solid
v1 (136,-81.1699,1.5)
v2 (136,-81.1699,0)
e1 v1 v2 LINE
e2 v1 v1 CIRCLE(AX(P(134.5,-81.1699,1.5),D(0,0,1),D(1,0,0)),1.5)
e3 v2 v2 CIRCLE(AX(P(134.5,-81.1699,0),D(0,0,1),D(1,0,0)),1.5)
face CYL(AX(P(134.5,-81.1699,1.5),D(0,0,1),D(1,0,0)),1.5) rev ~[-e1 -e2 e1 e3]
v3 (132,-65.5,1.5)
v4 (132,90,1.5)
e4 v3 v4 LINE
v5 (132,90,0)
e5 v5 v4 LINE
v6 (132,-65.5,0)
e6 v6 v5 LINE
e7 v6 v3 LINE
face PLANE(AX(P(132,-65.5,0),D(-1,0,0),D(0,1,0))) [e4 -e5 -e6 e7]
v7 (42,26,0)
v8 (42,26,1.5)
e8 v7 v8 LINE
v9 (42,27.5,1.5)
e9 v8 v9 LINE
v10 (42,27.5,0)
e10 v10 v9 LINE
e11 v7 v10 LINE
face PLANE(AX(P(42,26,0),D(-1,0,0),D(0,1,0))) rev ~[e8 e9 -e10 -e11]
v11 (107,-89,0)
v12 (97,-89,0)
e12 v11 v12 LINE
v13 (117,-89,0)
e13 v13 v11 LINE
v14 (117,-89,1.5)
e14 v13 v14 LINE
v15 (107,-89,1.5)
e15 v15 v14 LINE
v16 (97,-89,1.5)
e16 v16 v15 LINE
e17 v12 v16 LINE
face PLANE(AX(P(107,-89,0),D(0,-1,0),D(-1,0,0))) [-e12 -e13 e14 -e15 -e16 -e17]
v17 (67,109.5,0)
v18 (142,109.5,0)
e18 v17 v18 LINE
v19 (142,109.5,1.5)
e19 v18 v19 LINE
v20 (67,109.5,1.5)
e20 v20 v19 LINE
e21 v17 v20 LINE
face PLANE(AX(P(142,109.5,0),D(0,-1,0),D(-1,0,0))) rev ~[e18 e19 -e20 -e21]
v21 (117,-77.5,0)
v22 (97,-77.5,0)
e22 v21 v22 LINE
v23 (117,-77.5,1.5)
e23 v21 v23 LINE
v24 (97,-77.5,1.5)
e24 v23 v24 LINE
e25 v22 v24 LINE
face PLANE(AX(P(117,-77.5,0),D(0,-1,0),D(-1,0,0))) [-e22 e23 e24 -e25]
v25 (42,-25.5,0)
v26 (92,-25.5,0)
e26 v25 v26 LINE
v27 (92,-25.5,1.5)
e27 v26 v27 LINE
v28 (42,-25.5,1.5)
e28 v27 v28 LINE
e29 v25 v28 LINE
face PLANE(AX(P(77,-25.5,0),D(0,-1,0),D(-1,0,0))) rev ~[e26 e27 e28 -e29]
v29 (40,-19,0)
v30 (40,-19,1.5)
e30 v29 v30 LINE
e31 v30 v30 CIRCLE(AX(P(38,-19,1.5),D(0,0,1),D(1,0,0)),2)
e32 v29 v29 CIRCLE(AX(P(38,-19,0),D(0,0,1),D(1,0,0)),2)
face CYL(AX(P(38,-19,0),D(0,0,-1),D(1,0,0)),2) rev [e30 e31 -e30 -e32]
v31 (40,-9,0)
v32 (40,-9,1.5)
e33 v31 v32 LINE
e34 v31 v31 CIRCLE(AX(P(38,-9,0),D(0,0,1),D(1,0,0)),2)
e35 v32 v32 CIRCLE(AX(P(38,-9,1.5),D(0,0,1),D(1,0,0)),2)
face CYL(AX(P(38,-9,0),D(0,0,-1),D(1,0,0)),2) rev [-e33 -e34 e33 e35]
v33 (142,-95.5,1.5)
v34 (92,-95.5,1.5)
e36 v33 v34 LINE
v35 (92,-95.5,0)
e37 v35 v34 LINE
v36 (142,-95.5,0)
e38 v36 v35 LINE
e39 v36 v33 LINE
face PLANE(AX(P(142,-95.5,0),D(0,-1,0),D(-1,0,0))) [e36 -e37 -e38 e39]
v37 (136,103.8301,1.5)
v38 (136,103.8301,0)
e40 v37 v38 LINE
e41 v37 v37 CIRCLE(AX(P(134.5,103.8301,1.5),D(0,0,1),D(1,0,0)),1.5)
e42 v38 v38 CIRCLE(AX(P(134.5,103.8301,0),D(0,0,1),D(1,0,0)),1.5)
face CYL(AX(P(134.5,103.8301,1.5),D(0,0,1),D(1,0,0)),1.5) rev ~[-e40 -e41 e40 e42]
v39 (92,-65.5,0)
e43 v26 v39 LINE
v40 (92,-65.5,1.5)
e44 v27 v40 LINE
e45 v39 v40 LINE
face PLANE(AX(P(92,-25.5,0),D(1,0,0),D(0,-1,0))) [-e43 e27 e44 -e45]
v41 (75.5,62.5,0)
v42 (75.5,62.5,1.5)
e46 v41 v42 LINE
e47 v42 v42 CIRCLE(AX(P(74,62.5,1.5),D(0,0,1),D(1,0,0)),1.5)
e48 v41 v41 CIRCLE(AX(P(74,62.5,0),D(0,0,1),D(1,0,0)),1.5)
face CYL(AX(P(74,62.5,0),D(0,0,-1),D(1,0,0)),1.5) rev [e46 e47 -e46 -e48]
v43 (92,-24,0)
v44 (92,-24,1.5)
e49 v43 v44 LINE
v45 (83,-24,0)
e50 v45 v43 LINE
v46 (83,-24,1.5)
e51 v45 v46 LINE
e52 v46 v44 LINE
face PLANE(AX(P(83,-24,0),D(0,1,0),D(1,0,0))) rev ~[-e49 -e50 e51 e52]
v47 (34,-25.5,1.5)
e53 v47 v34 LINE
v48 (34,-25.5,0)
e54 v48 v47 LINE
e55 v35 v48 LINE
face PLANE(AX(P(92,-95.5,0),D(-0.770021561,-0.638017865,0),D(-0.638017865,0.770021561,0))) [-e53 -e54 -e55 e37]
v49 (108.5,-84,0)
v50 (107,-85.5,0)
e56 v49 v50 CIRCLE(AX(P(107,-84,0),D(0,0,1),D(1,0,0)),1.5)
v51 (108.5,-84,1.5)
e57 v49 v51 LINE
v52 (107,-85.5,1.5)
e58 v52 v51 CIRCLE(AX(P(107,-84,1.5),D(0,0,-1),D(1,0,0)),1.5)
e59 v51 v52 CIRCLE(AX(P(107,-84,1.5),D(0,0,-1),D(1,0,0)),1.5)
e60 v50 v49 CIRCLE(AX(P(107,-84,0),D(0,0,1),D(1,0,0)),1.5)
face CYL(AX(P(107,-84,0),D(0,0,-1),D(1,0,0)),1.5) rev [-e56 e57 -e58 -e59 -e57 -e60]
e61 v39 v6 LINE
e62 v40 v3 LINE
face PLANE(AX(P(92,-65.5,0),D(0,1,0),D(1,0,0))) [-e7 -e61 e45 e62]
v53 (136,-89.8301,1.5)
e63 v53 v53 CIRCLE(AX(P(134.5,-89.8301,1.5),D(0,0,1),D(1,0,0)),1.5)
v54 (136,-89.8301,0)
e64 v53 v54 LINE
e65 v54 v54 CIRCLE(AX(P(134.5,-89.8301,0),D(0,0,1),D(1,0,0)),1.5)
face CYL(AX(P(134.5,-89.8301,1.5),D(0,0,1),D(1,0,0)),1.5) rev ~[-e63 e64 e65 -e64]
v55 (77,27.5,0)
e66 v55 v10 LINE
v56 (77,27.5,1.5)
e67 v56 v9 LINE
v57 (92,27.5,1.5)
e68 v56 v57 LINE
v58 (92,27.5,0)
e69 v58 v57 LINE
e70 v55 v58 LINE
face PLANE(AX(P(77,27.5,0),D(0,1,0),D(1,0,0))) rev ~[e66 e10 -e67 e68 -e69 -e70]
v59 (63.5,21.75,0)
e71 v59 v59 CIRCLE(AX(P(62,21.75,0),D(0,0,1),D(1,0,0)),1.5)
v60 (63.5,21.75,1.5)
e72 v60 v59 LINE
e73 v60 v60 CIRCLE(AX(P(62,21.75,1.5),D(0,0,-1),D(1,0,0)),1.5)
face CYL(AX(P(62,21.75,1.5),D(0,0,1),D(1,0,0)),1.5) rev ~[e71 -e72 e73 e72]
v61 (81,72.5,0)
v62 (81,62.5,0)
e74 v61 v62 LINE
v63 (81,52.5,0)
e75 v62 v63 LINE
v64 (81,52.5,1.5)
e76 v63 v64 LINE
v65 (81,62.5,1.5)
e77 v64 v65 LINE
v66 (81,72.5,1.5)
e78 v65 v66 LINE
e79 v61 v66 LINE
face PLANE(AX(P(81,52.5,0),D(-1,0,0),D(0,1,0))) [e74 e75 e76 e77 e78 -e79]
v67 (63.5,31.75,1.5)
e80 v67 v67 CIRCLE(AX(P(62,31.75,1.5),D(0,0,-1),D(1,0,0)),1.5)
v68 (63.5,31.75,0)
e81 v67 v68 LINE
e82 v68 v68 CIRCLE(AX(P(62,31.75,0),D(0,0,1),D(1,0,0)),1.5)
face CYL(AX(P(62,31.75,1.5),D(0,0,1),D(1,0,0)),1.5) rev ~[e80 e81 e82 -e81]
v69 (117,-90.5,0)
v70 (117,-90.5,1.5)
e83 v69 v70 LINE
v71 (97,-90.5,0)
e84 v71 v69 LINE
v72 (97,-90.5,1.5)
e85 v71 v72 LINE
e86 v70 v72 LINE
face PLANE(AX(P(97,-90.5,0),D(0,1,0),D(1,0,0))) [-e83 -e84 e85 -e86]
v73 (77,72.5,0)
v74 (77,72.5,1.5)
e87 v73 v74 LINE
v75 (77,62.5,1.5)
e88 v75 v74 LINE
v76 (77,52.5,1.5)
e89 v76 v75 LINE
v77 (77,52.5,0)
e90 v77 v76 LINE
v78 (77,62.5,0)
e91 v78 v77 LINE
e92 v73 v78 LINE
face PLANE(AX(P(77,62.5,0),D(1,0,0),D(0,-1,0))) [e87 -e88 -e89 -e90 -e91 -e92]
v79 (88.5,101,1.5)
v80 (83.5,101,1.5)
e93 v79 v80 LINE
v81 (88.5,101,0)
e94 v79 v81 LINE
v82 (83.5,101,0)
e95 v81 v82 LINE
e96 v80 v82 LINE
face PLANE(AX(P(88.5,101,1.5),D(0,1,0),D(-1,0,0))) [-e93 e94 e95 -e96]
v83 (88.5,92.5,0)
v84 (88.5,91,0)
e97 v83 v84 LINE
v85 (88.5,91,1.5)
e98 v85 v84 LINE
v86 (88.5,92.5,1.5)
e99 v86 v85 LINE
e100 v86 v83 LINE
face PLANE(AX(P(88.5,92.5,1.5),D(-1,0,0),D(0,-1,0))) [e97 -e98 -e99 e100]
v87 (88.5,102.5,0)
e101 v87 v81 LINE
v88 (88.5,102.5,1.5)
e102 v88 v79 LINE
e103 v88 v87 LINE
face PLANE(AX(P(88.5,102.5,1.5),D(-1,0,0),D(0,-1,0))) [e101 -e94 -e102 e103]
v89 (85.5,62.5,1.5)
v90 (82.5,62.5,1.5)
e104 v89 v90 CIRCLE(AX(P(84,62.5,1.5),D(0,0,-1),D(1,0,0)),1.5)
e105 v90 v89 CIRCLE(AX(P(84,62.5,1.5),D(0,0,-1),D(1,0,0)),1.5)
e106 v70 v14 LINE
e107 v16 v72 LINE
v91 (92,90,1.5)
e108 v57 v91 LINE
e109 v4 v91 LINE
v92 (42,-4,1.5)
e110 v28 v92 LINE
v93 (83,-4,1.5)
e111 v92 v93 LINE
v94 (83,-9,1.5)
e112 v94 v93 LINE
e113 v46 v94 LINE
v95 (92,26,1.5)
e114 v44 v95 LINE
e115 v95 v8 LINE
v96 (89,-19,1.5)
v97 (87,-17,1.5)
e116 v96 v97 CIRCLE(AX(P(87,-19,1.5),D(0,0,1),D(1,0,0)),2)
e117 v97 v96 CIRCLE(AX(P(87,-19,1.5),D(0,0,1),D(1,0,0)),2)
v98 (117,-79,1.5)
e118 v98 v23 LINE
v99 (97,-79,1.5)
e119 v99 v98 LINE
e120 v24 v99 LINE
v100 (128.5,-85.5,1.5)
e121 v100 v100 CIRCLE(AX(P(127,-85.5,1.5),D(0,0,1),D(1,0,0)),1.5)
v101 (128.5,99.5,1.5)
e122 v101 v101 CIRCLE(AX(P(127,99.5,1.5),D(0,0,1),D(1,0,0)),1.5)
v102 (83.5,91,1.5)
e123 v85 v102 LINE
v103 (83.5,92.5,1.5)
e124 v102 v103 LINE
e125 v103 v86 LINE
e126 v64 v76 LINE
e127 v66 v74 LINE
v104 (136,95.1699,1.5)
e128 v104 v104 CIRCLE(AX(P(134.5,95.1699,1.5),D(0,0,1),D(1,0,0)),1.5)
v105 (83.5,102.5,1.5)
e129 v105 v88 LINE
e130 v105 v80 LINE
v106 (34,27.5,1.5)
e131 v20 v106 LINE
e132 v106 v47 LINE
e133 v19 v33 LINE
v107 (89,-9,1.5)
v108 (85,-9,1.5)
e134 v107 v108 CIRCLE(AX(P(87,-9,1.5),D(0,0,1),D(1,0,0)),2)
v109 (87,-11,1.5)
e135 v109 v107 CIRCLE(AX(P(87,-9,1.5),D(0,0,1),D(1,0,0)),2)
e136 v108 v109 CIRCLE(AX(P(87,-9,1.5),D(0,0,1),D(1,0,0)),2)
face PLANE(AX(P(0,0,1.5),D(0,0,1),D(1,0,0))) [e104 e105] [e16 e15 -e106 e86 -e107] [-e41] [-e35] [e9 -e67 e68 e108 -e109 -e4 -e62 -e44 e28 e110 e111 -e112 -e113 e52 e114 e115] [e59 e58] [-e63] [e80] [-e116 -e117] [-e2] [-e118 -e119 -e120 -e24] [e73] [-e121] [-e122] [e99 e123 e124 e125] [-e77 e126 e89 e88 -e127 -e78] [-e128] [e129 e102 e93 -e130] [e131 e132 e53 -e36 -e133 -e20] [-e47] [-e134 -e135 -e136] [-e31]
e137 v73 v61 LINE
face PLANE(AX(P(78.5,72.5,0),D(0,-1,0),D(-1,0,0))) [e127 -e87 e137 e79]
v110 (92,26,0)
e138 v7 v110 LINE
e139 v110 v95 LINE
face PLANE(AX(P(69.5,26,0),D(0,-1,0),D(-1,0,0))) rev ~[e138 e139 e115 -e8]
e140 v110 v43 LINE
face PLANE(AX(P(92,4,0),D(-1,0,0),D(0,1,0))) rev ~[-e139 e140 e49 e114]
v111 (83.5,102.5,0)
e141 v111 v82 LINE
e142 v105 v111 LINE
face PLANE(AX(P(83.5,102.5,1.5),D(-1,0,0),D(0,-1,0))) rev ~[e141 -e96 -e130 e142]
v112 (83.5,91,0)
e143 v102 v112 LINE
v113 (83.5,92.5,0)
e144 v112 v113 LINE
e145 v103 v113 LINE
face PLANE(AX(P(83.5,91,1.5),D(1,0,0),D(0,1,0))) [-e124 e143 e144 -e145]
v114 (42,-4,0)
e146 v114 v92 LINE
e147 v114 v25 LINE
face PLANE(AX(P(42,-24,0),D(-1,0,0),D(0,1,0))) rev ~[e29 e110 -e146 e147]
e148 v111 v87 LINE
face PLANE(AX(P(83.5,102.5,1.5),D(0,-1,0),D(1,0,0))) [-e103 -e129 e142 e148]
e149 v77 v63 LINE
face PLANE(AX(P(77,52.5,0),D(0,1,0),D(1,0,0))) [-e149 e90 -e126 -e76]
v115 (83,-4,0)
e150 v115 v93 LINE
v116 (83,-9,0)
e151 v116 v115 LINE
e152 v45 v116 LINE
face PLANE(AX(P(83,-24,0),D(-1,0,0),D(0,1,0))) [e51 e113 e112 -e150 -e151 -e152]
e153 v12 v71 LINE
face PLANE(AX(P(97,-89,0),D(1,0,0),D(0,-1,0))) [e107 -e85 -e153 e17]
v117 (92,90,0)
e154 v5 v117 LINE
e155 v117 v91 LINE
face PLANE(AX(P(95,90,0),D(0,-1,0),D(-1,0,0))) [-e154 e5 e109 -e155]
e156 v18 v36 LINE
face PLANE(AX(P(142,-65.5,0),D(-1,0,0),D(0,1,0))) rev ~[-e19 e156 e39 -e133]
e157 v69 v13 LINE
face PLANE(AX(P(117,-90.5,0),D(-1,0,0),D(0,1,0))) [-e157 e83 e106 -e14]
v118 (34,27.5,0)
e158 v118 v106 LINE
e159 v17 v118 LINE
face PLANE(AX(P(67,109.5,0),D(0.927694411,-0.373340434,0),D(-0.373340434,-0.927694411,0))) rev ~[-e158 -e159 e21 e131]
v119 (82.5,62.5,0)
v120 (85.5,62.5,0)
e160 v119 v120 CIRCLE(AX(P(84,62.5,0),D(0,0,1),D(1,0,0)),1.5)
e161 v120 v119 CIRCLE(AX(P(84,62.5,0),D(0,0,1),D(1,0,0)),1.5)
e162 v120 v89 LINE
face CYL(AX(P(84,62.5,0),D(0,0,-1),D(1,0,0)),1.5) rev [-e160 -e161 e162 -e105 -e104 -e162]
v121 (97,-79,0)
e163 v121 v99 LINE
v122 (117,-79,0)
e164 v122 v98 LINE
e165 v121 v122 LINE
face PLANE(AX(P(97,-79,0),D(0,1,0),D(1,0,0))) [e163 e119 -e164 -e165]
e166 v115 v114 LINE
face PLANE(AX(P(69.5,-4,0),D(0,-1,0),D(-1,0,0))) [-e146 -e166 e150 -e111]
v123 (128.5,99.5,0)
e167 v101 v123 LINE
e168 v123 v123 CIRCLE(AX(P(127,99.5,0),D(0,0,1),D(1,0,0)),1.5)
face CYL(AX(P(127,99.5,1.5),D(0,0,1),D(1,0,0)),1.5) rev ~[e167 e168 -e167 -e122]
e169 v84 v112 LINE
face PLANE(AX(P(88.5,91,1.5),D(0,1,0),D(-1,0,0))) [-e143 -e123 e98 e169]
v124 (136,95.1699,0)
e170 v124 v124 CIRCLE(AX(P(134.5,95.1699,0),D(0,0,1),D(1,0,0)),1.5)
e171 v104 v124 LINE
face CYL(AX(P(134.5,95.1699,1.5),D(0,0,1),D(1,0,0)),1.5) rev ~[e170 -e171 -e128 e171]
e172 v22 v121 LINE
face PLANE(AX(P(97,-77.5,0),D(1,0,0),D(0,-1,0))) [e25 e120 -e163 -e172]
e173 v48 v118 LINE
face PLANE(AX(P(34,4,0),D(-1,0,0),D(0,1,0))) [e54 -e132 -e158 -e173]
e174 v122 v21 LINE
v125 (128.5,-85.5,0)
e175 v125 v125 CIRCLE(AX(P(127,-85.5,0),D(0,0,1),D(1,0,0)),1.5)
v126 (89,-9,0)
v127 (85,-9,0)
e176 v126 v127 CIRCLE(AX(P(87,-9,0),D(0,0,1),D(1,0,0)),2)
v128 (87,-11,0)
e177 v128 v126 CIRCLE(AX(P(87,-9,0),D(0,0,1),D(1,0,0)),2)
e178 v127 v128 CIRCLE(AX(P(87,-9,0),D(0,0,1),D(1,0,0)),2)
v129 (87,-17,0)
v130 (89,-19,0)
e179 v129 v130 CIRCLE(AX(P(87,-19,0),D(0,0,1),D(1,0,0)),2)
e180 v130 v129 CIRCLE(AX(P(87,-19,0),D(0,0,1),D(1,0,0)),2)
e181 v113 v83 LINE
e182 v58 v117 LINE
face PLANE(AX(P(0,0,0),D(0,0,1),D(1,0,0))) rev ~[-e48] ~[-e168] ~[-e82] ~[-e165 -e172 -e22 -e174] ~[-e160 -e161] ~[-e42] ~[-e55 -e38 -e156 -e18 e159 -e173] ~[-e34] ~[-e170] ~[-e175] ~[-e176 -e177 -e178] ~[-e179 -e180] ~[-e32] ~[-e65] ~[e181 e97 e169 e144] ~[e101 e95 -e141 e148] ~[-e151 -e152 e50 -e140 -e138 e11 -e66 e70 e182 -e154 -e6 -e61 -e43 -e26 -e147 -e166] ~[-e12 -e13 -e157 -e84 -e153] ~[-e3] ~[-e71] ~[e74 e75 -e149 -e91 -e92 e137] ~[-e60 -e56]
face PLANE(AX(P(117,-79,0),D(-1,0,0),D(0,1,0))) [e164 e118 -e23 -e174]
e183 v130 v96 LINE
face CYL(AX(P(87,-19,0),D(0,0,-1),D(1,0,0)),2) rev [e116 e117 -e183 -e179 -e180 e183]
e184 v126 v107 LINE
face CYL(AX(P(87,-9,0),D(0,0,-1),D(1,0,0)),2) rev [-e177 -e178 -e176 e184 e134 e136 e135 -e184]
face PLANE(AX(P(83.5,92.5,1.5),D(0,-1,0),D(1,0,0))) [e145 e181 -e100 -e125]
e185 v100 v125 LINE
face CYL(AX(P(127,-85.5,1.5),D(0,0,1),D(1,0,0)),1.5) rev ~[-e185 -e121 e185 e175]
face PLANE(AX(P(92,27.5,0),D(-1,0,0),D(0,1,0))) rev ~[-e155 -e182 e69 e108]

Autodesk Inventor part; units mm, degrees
ref_plane "YZ Plane" through (0, 0, 0) normal (1, 0, 0) x (0, 1, 0)
ref_plane "XZ Plane" through (0, 0, 0) normal (0, 1, 0) x (-1, 0, 0)
ref_plane "XY Plane" through (0, 0, 0) normal (0, 0, 1) x (1, 0, 0)
sketch "Sketch1" plane through (0, 0, 0) normal (0, 0, 1) x (1, 0, 0)
  line L0 (95, 60) -> (105, 60)
  line L1 (105, 60) -> (105, 10)
  line L2 (105, 10) -> (100, 10)
  line L3 (100, 10) -> (100, 20)
  line L4 (100, 20) -> (95, 20)
  line L5 (95, 20) -> (95, 60)
  line L6 (105, -60) -> (95, -60)
  line L7 (95, -60) -> (95, -20)
  line L8 (95, -20) -> (100, -20)
  line L9 (100, -20) -> (100, -10)
  line L10 (100, -10) -> (105, -10)
  line L11 (105, -10) -> (105, -60)
  line L12 (120.5, 3.5) -> (123.5, 3.5)
  line L13 (123.5, 3.5) -> (123.5, 5)
  line L14 (123.5, 5) -> (127, 5)
  line L15 (127, 5) -> (127, -5)
  line L16 (127, -5) -> (123.5, -5)
  line L17 (123.5, -5) -> (123.5, -3.5)
  line L18 (123.5, -3.5) -> (120.5, -3.5)
  line L19 (120.5, -3.5) -> (120.5, -5)
  line L20 (120.5, -5) -> (117, -5)
  line L21 (117, -5) -> (117, -49)
  line L22 (117, -49) -> (107, -51)
  line L23 (107, -51) -> (107, -10)
  line L24 (107, -10) -> (112, -10)
  line L25 (112, -10) -> (112, -3.5)
  line L26 (112, -3.5) -> (100, -3.5)
  line L27 (100, -3.5) -> (100, -4)
  line L28 (100, -4) -> (45, -4)
  arc A0 (43, -6) -> (45, -4) centre (43, -4) ccw
  line L29 (43, -6) -> (42, -6)
  arc A1 (40, -4) -> (42, -6) centre (42, -4) ccw
  line L30 (40, -4) -> (5, -4)
  arc A2 (3, -6) -> (5, -4) centre (3, -4) ccw
  line L31 (3, -6) -> (2, -6)
  arc A3 (0, -4) -> (2, -6) centre (2, -4) ccw
  line L32 (0, -4) -> (0, 4)
  arc A4 (2, 6) -> (0, 4) centre (2, 4) ccw
  line L33 (2, 6) -> (3, 6)
  arc A5 (5, 4) -> (3, 6) centre (3, 4) ccw
  line L34 (5, 4) -> (40, 4)
  arc A6 (42, 6) -> (40, 4) centre (42, 4) ccw
  line L35 (42, 6) -> (43, 6)
  arc A7 (45, 4) -> (43, 6) centre (43, 4) ccw
  line L36 (45, 4) -> (100, 4)
  line L37 (100, 4) -> (100, 3.5)
  line L38 (100, 3.5) -> (112, 3.5)
  line L39 (112, 3.5) -> (112, 10)
  line L40 (112, 10) -> (107, 10)
  line L41 (107, 10) -> (107, 51)
  line L42 (107, 51) -> (117, 49)
  line L43 (117, 49) -> (117, 5)
  line L44 (117, 5) -> (120.5, 5)
  line L45 (120.5, 5) -> (120.5, 3.5)
  line L46 (92, 27.5) -> (92, 26)
  line L47 (92, 26) -> (42, 26)
  line L48 (42, 26) -> (42, 27.5)
  line L49 (42, 27.5) -> (92, 27.5)
  line L50 (92, -24) -> (92, -25.5)
  line L51 (92, -25.5) -> (42, -25.5)
  line L52 (42, -25.5) -> (42, -24)
  line L53 (42, -24) -> (92, -24)
  line L54 (92, -25.5) -> (82, -25.5)
  line L55 (82, -25.5) -> (82, -24)
  line L56 (82, -24) -> (77, -24)
  line L57 (77, -24) -> (77, -25.5)
  line L58 (77, -25.5) -> (57, -25.5)
  line L59 (57, -25.5) -> (57, -24)
  line L60 (57, -24) -> (52, -24)
  line L61 (52, -24) -> (52, -25.5)
  line L62 (52, -25.5) -> (42, -25.5)
  line L63 (42, -25.5) -> (42, 27.5)
  line L64 (92, 27.5) -> (92, 97.5)
  line L65 (92, -25.5) -> (92, -65.5)
  line L66 (92, -65.5) -> (132, -65.5)
  line L67 (132, -65.5) -> (142, -65.5)
  line L68 (132, -65.5) -> (132, 97.5)
  line L69 (142, -65.5) -> (142, 109.5)
  line L70 (42, 27.5) -> (34, 27.5)
  line L71 (95, 60) -> (105, 60)
  line L72 (105, 60) -> (105, 84)
  line L73 (105, 84) -> (95, 84)
  line L74 (95, 84) -> (95, 60)
  line L75 (95, 60) -> (95, 90)
  line L76 (95, 90) -> (132, 90)
  line L77 (95, 90) -> (92, 90)
  line L78 (142, -65.5) -> (142, -95.5)
  line L79 (142, -95.5) -> (92, -95.5)
  line L80 (92, -95.5) -> (34, -25.5)
  line L81 (34, -25.5) -> (34, 27.5)
  line L82 (0, 0) -> (71, 0)
  line L83 (23.8389, -219.7015) -> (66.8389, -219.7015)
  line L84 (66.8389, -219.7015) -> (66.8389, -198.7015)
  line L85 (66.8389, -198.7015) -> (23.8389, -198.7015)
  line L86 (23.8389, -198.7015) -> (23.8389, -219.7015)
  line L87 (45.3389, -198.7015) -> (45.3389, -219.7015)
  line L88 (66.8389, -198.7015) -> (66.8389, -203.7015)
  line L89 (66.8389, -203.7015) -> (70.8389, -203.7015)
  line L90 (70.8389, -203.7015) -> (70.8389, -213.7015)
  circle A8 centre (70.8389, -213.7015) radius 2
  circle A9 centre (70.8389, -203.7015) radius 2
  line L91 (66.8389, -209.2015) -> (56.8389, -209.2015)
  line L92 (56.8389, -209.2015) -> (56.8389, -189.2015)
  line L93 (56.8389, -189.2015) -> (56.8389, -229.2015)
  circle A10 centre (19.8389, -213.7015) radius 2
  circle A11 centre (19.8389, -203.7015) radius 2
  line L94 (33.8389, -189.2015) -> (33.8389, -229.2015)
  line L95 (42, -24) -> (83, -24)
  line L96 (83, -24) -> (83, -4)
  line L97 (83, -4) -> (42, -4)
  line L98 (42, -4) -> (42, -24)
  line L99 (62.5, -4) -> (62.5, -24)
  line L100 (83, -4) -> (83, -9)
  line L101 (83, -9) -> (87, -9)
  line L102 (87, -9) -> (87, -19)
  circle A12 centre (87, -9) radius 2
  circle A13 centre (87, -19) radius 2
  circle A14 centre (38, -9) radius 2
  circle A15 centre (38, -19) radius 2
  line L103 (92, -24) -> (92, 26)
  line L104 (109.5, -120.7576) -> (69.5, -120.7576)
  line L105 (69.5, -120.7576) -> (69.5, 125.4146)
  line L106 (142, 109.5) -> (67, 109.5)
  line L107 (67, 109.5) -> (67, 109.5)
  line L108 (67, 109.5) -> (34, 27.5)
  line L109 (34, 27.5) -> (69.5, 27.5)
  line L110 (69.5, 27.5) -> (69.5, 52.5)
  line L111 (92, 27.5) -> (69.5, 27.5)
  line L112 (92, 27.5) -> (77, 27.5)
  line L113 (77, 27.5) -> (77, 52.5)
  line L114 (77, 52.5) -> (78.5, 52.5)
  line L115 (78.5, 72.5) -> (77, 72.5)
  line L116 (77, 72.5) -> (77, 52.5)
  line L117 (78.5, 52.5) -> (81, 52.5)
  line L118 (81, 52.5) -> (81, 72.5)
  line L119 (81, 72.5) -> (78.5, 72.5)
  line L120 (81, 62.5) -> (79, 62.5)
  line L121 (79, 62.5) -> (74, 62.5)
  line L122 (74, 62.5) -> (84, 62.5)
  circle A16 centre (74, 62.5) radius 1.5
  circle A17 centre (84, 62.5) radius 1.5
  line L123 (92, -95.5) -> (92, -90.5)
  line L124 (92, -90.5) -> (97, -90.5)
  line L125 (97, -90.5) -> (117, -90.5)
  line L126 (117, -90.5) -> (117, -89)
  line L127 (117, -89) -> (97, -89)
  line L128 (97, -89) -> (97, -90.5)
  line L129 (97, -89) -> (97, -79)
  line L130 (97, -79) -> (117, -79)
  line L131 (117, -79) -> (117, -77.5)
  line L132 (117, -77.5) -> (97, -77.5)
  line L133 (97, -77.5) -> (97, -79)
  line L134 (107, -90.5) -> (107, -84)
  circle A18 centre (107, -84) radius 1.5
  point P0 (59.5188, -93.2152)
  point P1 (83, -4)
  point P2 (83, -24)
  dimension "d0" = 10
  dimension "d1" = 1.5
  dimension "d2" = 5
  dimension "d3" = 1.5
  dimension "d4" = 20
  dimension "d5" = 1.5
  dimension "d6" = 5
  dimension "d7" = 1.5
  dimension "d8" = 70
  dimension "d9" = 40
  dimension "d10" = 40
  dimension "d11" = 40
  dimension "d12" = 10
  dimension "d13" = 175
  dimension "d14" = 8
  dimension "d15" = 10
  dimension "d16" = 24
  dimension "d17" = 30
  dimension "d19" = 30
  dimension "d20" = 50
  dimension "d21" = 71
  dimension "d22" = 43
  dimension "d23" = 21
  dimension "d24" = 5
  dimension "d25" = 4
  dimension "d26" = 10
  dimension "d27" = 4
  dimension "d28" = 4
  dimension "d29" = 10
  dimension "d30" = 20
  dimension "d31" = 40
  dimension "d32" = 41
  dimension "d33" = 20
  dimension "d34" = 5
  dimension "d35" = 4
  dimension "d36" = 10
  dimension "d37" = 4
  dimension "d38" = 4
  dimension "d48" = 40
  dimension "d49" = 3
  dimension "d50" = 75
  dimension "d51" = 0
  dimension "d62" = 15
  dimension "d63" = 25
  dimension "d64" = 1.5
  dimension "d65" = 20
  dimension "d73" = 2.5
  dimension "d74" = 2
  dimension "d75" = 5
  dimension "d76" = 10
  dimension "d77" = 3
  dimension "d78" = 3
  dimension "d81" = 5
  dimension "d82" = 5
  dimension "d83" = 20
  dimension "d84" = 1.5
  dimension "d85" = 10
  dimension "d86" = 20
  dimension "d87" = 1.5
  dimension "d88" = 3
extrude "Extrusion1" add sketch "Sketch1" along normal blind 1.5 contours A16 | A17 | L116 L121 L120 L118 L117 L114 | L77 L64 L49 L105 L106 L69 L67 L68 L76 | L133 L132 L131 L130 | A18 | L128 L127 L134 L125 | L67 L78 L79 L80 L105 L51 L65 L66 | L103 L36 L105 L47 | L105 L36 A7 L35 L63 L47 | L103 L28 L105 L36 | L49 L70 L108 L106 L105 | L53 L96 L28 L103 | L63 A6 L34 L81 L70 L48 | L105 L82 L63 L35 A7 L36 | L116 L115 L119 L118 L120 L121 | L80 L81 L30 A1 L63 L52 L51 L105 | L63 L82 L81 L34 A6 | L105 L28 L97 L63 L82 | L63 A1 L30 L81 L82 | L134 L127 L126 L125
sketch "Sketch2" plane through (0, 0, 1.5) normal (0, 0, 1) x (1, 0, 0)
  line L0 (42, 26) -> (42, 27.5) projected
  line L1 (42, 26.75) -> (62, 26.75)
  line L2 (62, 26.75) -> (62, 31.75)
  line L3 (62, 31.75) -> (62, 21.75)
  circle A0 centre (62, 31.75) radius 1.5
  circle A1 centre (62, 21.75) radius 1.5
  point P0 (0, 0)
  dimension "d41" = 20
  dimension "d42" = 5
  dimension "d43" = 10
  dimension "d44" = 3
  dimension "d45" = 3
extrude "Extrusion2" cut sketch "Sketch2" against normal blind 1.5
extrude "Extrusion5" cut sketch "Sketch1" along normal blind 1.5 contours A16 | A17 | L116 L121 L120 L118 L117 L114 | L116 L115 L119 L118 L120 L121
extrude "Extrusion6" cut sketch "Sketch1" along normal blind 1.5 contours L133 L132 L131 L130 | A18 | L128 L127 L134 L125 | L134 L127 L126 L125
sketch "Sketch3" plane through (0, 0, 1.5) normal (0, 0, 1) x (1, 0, 0)
  line L0 (81, 72.5) -> (81, 52.5) projected
  line L1 (81, 72.5) -> (81, 102.5)
  line L2 (42, 27.5) -> (92, 27.5) projected
  line L3 (81, 102.5) -> (81, 92.5)
  line L4 (81, 102.5) -> (83.5, 102.5)
  line L5 (83.5, 102.5) -> (83.5, 92.5)
  line L6 (83.5, 102.5) -> (88.5, 102.5)
  line L7 (88.5, 102.5) -> (88.5, 101)
  line L8 (88.5, 101) -> (83.5, 101)
  line L9 (83.5, 101) -> (83.5, 102.5)
  line L10 (83.5, 92.5) -> (88.5, 92.5)
  line L11 (88.5, 92.5) -> (88.5, 91)
  line L12 (88.5, 91) -> (83.5, 91)
  line L13 (83.5, 91) -> (83.5, 92.5)
  point P0 (0, 0)
  dimension "d93" = 30
  dimension "d94" = 10
  dimension "d95" = 2.5
  dimension "d96" = 5
  dimension "d97" = 1.5
  dimension "d98" = 5
  dimension "d99" = 1.5
extrude "Extrusion7" cut sketch "Sketch3" against normal blind 1.5
sketch "Sketch4" plane through (0, 0, 1.5) normal (0, 0, 1) x (1, 0, 0)
  line L0 (142, -95.5) -> (142, 109.5) projected
  line L1 (142, 109.5) -> (142, 99.5)
  line L2 (142, 99.5) -> (132, 99.5)
  line L3 (132, 99.5) -> (127, 99.5)
  circle A0 centre (127, 99.5) radius 1.5
  circle A1 centre (134.5, 95.1699) radius 1.5
  circle A2 centre (134.5, 103.8301) radius 1.5
  line L4 (142, -95.5) -> (142, -85.5)
  line L5 (142, -85.5) -> (132, -85.5)
  line L6 (132, -85.5) -> (127, -85.5)
  circle A3 centre (127, -85.5) radius 1.5
  circle A4 centre (134.5, -89.8301) radius 1.5
  circle A5 centre (134.5, -81.1699) radius 1.5
  point P0 (0, 0)
  dimension "d102" = 10
  dimension "d103" = 10
  dimension "d104" = 5
  dimension "d105" = 3
  dimension "d108" = 360
  dimension "d110" = 10
  dimension "d111" = 10
  dimension "d112" = 5
  dimension "d113" = 3
  dimension "d116" = 360
extrude "Extrusion8" cut sketch "Sketch4" against normal blind 1.5
properties part number "SIdeFinal"
